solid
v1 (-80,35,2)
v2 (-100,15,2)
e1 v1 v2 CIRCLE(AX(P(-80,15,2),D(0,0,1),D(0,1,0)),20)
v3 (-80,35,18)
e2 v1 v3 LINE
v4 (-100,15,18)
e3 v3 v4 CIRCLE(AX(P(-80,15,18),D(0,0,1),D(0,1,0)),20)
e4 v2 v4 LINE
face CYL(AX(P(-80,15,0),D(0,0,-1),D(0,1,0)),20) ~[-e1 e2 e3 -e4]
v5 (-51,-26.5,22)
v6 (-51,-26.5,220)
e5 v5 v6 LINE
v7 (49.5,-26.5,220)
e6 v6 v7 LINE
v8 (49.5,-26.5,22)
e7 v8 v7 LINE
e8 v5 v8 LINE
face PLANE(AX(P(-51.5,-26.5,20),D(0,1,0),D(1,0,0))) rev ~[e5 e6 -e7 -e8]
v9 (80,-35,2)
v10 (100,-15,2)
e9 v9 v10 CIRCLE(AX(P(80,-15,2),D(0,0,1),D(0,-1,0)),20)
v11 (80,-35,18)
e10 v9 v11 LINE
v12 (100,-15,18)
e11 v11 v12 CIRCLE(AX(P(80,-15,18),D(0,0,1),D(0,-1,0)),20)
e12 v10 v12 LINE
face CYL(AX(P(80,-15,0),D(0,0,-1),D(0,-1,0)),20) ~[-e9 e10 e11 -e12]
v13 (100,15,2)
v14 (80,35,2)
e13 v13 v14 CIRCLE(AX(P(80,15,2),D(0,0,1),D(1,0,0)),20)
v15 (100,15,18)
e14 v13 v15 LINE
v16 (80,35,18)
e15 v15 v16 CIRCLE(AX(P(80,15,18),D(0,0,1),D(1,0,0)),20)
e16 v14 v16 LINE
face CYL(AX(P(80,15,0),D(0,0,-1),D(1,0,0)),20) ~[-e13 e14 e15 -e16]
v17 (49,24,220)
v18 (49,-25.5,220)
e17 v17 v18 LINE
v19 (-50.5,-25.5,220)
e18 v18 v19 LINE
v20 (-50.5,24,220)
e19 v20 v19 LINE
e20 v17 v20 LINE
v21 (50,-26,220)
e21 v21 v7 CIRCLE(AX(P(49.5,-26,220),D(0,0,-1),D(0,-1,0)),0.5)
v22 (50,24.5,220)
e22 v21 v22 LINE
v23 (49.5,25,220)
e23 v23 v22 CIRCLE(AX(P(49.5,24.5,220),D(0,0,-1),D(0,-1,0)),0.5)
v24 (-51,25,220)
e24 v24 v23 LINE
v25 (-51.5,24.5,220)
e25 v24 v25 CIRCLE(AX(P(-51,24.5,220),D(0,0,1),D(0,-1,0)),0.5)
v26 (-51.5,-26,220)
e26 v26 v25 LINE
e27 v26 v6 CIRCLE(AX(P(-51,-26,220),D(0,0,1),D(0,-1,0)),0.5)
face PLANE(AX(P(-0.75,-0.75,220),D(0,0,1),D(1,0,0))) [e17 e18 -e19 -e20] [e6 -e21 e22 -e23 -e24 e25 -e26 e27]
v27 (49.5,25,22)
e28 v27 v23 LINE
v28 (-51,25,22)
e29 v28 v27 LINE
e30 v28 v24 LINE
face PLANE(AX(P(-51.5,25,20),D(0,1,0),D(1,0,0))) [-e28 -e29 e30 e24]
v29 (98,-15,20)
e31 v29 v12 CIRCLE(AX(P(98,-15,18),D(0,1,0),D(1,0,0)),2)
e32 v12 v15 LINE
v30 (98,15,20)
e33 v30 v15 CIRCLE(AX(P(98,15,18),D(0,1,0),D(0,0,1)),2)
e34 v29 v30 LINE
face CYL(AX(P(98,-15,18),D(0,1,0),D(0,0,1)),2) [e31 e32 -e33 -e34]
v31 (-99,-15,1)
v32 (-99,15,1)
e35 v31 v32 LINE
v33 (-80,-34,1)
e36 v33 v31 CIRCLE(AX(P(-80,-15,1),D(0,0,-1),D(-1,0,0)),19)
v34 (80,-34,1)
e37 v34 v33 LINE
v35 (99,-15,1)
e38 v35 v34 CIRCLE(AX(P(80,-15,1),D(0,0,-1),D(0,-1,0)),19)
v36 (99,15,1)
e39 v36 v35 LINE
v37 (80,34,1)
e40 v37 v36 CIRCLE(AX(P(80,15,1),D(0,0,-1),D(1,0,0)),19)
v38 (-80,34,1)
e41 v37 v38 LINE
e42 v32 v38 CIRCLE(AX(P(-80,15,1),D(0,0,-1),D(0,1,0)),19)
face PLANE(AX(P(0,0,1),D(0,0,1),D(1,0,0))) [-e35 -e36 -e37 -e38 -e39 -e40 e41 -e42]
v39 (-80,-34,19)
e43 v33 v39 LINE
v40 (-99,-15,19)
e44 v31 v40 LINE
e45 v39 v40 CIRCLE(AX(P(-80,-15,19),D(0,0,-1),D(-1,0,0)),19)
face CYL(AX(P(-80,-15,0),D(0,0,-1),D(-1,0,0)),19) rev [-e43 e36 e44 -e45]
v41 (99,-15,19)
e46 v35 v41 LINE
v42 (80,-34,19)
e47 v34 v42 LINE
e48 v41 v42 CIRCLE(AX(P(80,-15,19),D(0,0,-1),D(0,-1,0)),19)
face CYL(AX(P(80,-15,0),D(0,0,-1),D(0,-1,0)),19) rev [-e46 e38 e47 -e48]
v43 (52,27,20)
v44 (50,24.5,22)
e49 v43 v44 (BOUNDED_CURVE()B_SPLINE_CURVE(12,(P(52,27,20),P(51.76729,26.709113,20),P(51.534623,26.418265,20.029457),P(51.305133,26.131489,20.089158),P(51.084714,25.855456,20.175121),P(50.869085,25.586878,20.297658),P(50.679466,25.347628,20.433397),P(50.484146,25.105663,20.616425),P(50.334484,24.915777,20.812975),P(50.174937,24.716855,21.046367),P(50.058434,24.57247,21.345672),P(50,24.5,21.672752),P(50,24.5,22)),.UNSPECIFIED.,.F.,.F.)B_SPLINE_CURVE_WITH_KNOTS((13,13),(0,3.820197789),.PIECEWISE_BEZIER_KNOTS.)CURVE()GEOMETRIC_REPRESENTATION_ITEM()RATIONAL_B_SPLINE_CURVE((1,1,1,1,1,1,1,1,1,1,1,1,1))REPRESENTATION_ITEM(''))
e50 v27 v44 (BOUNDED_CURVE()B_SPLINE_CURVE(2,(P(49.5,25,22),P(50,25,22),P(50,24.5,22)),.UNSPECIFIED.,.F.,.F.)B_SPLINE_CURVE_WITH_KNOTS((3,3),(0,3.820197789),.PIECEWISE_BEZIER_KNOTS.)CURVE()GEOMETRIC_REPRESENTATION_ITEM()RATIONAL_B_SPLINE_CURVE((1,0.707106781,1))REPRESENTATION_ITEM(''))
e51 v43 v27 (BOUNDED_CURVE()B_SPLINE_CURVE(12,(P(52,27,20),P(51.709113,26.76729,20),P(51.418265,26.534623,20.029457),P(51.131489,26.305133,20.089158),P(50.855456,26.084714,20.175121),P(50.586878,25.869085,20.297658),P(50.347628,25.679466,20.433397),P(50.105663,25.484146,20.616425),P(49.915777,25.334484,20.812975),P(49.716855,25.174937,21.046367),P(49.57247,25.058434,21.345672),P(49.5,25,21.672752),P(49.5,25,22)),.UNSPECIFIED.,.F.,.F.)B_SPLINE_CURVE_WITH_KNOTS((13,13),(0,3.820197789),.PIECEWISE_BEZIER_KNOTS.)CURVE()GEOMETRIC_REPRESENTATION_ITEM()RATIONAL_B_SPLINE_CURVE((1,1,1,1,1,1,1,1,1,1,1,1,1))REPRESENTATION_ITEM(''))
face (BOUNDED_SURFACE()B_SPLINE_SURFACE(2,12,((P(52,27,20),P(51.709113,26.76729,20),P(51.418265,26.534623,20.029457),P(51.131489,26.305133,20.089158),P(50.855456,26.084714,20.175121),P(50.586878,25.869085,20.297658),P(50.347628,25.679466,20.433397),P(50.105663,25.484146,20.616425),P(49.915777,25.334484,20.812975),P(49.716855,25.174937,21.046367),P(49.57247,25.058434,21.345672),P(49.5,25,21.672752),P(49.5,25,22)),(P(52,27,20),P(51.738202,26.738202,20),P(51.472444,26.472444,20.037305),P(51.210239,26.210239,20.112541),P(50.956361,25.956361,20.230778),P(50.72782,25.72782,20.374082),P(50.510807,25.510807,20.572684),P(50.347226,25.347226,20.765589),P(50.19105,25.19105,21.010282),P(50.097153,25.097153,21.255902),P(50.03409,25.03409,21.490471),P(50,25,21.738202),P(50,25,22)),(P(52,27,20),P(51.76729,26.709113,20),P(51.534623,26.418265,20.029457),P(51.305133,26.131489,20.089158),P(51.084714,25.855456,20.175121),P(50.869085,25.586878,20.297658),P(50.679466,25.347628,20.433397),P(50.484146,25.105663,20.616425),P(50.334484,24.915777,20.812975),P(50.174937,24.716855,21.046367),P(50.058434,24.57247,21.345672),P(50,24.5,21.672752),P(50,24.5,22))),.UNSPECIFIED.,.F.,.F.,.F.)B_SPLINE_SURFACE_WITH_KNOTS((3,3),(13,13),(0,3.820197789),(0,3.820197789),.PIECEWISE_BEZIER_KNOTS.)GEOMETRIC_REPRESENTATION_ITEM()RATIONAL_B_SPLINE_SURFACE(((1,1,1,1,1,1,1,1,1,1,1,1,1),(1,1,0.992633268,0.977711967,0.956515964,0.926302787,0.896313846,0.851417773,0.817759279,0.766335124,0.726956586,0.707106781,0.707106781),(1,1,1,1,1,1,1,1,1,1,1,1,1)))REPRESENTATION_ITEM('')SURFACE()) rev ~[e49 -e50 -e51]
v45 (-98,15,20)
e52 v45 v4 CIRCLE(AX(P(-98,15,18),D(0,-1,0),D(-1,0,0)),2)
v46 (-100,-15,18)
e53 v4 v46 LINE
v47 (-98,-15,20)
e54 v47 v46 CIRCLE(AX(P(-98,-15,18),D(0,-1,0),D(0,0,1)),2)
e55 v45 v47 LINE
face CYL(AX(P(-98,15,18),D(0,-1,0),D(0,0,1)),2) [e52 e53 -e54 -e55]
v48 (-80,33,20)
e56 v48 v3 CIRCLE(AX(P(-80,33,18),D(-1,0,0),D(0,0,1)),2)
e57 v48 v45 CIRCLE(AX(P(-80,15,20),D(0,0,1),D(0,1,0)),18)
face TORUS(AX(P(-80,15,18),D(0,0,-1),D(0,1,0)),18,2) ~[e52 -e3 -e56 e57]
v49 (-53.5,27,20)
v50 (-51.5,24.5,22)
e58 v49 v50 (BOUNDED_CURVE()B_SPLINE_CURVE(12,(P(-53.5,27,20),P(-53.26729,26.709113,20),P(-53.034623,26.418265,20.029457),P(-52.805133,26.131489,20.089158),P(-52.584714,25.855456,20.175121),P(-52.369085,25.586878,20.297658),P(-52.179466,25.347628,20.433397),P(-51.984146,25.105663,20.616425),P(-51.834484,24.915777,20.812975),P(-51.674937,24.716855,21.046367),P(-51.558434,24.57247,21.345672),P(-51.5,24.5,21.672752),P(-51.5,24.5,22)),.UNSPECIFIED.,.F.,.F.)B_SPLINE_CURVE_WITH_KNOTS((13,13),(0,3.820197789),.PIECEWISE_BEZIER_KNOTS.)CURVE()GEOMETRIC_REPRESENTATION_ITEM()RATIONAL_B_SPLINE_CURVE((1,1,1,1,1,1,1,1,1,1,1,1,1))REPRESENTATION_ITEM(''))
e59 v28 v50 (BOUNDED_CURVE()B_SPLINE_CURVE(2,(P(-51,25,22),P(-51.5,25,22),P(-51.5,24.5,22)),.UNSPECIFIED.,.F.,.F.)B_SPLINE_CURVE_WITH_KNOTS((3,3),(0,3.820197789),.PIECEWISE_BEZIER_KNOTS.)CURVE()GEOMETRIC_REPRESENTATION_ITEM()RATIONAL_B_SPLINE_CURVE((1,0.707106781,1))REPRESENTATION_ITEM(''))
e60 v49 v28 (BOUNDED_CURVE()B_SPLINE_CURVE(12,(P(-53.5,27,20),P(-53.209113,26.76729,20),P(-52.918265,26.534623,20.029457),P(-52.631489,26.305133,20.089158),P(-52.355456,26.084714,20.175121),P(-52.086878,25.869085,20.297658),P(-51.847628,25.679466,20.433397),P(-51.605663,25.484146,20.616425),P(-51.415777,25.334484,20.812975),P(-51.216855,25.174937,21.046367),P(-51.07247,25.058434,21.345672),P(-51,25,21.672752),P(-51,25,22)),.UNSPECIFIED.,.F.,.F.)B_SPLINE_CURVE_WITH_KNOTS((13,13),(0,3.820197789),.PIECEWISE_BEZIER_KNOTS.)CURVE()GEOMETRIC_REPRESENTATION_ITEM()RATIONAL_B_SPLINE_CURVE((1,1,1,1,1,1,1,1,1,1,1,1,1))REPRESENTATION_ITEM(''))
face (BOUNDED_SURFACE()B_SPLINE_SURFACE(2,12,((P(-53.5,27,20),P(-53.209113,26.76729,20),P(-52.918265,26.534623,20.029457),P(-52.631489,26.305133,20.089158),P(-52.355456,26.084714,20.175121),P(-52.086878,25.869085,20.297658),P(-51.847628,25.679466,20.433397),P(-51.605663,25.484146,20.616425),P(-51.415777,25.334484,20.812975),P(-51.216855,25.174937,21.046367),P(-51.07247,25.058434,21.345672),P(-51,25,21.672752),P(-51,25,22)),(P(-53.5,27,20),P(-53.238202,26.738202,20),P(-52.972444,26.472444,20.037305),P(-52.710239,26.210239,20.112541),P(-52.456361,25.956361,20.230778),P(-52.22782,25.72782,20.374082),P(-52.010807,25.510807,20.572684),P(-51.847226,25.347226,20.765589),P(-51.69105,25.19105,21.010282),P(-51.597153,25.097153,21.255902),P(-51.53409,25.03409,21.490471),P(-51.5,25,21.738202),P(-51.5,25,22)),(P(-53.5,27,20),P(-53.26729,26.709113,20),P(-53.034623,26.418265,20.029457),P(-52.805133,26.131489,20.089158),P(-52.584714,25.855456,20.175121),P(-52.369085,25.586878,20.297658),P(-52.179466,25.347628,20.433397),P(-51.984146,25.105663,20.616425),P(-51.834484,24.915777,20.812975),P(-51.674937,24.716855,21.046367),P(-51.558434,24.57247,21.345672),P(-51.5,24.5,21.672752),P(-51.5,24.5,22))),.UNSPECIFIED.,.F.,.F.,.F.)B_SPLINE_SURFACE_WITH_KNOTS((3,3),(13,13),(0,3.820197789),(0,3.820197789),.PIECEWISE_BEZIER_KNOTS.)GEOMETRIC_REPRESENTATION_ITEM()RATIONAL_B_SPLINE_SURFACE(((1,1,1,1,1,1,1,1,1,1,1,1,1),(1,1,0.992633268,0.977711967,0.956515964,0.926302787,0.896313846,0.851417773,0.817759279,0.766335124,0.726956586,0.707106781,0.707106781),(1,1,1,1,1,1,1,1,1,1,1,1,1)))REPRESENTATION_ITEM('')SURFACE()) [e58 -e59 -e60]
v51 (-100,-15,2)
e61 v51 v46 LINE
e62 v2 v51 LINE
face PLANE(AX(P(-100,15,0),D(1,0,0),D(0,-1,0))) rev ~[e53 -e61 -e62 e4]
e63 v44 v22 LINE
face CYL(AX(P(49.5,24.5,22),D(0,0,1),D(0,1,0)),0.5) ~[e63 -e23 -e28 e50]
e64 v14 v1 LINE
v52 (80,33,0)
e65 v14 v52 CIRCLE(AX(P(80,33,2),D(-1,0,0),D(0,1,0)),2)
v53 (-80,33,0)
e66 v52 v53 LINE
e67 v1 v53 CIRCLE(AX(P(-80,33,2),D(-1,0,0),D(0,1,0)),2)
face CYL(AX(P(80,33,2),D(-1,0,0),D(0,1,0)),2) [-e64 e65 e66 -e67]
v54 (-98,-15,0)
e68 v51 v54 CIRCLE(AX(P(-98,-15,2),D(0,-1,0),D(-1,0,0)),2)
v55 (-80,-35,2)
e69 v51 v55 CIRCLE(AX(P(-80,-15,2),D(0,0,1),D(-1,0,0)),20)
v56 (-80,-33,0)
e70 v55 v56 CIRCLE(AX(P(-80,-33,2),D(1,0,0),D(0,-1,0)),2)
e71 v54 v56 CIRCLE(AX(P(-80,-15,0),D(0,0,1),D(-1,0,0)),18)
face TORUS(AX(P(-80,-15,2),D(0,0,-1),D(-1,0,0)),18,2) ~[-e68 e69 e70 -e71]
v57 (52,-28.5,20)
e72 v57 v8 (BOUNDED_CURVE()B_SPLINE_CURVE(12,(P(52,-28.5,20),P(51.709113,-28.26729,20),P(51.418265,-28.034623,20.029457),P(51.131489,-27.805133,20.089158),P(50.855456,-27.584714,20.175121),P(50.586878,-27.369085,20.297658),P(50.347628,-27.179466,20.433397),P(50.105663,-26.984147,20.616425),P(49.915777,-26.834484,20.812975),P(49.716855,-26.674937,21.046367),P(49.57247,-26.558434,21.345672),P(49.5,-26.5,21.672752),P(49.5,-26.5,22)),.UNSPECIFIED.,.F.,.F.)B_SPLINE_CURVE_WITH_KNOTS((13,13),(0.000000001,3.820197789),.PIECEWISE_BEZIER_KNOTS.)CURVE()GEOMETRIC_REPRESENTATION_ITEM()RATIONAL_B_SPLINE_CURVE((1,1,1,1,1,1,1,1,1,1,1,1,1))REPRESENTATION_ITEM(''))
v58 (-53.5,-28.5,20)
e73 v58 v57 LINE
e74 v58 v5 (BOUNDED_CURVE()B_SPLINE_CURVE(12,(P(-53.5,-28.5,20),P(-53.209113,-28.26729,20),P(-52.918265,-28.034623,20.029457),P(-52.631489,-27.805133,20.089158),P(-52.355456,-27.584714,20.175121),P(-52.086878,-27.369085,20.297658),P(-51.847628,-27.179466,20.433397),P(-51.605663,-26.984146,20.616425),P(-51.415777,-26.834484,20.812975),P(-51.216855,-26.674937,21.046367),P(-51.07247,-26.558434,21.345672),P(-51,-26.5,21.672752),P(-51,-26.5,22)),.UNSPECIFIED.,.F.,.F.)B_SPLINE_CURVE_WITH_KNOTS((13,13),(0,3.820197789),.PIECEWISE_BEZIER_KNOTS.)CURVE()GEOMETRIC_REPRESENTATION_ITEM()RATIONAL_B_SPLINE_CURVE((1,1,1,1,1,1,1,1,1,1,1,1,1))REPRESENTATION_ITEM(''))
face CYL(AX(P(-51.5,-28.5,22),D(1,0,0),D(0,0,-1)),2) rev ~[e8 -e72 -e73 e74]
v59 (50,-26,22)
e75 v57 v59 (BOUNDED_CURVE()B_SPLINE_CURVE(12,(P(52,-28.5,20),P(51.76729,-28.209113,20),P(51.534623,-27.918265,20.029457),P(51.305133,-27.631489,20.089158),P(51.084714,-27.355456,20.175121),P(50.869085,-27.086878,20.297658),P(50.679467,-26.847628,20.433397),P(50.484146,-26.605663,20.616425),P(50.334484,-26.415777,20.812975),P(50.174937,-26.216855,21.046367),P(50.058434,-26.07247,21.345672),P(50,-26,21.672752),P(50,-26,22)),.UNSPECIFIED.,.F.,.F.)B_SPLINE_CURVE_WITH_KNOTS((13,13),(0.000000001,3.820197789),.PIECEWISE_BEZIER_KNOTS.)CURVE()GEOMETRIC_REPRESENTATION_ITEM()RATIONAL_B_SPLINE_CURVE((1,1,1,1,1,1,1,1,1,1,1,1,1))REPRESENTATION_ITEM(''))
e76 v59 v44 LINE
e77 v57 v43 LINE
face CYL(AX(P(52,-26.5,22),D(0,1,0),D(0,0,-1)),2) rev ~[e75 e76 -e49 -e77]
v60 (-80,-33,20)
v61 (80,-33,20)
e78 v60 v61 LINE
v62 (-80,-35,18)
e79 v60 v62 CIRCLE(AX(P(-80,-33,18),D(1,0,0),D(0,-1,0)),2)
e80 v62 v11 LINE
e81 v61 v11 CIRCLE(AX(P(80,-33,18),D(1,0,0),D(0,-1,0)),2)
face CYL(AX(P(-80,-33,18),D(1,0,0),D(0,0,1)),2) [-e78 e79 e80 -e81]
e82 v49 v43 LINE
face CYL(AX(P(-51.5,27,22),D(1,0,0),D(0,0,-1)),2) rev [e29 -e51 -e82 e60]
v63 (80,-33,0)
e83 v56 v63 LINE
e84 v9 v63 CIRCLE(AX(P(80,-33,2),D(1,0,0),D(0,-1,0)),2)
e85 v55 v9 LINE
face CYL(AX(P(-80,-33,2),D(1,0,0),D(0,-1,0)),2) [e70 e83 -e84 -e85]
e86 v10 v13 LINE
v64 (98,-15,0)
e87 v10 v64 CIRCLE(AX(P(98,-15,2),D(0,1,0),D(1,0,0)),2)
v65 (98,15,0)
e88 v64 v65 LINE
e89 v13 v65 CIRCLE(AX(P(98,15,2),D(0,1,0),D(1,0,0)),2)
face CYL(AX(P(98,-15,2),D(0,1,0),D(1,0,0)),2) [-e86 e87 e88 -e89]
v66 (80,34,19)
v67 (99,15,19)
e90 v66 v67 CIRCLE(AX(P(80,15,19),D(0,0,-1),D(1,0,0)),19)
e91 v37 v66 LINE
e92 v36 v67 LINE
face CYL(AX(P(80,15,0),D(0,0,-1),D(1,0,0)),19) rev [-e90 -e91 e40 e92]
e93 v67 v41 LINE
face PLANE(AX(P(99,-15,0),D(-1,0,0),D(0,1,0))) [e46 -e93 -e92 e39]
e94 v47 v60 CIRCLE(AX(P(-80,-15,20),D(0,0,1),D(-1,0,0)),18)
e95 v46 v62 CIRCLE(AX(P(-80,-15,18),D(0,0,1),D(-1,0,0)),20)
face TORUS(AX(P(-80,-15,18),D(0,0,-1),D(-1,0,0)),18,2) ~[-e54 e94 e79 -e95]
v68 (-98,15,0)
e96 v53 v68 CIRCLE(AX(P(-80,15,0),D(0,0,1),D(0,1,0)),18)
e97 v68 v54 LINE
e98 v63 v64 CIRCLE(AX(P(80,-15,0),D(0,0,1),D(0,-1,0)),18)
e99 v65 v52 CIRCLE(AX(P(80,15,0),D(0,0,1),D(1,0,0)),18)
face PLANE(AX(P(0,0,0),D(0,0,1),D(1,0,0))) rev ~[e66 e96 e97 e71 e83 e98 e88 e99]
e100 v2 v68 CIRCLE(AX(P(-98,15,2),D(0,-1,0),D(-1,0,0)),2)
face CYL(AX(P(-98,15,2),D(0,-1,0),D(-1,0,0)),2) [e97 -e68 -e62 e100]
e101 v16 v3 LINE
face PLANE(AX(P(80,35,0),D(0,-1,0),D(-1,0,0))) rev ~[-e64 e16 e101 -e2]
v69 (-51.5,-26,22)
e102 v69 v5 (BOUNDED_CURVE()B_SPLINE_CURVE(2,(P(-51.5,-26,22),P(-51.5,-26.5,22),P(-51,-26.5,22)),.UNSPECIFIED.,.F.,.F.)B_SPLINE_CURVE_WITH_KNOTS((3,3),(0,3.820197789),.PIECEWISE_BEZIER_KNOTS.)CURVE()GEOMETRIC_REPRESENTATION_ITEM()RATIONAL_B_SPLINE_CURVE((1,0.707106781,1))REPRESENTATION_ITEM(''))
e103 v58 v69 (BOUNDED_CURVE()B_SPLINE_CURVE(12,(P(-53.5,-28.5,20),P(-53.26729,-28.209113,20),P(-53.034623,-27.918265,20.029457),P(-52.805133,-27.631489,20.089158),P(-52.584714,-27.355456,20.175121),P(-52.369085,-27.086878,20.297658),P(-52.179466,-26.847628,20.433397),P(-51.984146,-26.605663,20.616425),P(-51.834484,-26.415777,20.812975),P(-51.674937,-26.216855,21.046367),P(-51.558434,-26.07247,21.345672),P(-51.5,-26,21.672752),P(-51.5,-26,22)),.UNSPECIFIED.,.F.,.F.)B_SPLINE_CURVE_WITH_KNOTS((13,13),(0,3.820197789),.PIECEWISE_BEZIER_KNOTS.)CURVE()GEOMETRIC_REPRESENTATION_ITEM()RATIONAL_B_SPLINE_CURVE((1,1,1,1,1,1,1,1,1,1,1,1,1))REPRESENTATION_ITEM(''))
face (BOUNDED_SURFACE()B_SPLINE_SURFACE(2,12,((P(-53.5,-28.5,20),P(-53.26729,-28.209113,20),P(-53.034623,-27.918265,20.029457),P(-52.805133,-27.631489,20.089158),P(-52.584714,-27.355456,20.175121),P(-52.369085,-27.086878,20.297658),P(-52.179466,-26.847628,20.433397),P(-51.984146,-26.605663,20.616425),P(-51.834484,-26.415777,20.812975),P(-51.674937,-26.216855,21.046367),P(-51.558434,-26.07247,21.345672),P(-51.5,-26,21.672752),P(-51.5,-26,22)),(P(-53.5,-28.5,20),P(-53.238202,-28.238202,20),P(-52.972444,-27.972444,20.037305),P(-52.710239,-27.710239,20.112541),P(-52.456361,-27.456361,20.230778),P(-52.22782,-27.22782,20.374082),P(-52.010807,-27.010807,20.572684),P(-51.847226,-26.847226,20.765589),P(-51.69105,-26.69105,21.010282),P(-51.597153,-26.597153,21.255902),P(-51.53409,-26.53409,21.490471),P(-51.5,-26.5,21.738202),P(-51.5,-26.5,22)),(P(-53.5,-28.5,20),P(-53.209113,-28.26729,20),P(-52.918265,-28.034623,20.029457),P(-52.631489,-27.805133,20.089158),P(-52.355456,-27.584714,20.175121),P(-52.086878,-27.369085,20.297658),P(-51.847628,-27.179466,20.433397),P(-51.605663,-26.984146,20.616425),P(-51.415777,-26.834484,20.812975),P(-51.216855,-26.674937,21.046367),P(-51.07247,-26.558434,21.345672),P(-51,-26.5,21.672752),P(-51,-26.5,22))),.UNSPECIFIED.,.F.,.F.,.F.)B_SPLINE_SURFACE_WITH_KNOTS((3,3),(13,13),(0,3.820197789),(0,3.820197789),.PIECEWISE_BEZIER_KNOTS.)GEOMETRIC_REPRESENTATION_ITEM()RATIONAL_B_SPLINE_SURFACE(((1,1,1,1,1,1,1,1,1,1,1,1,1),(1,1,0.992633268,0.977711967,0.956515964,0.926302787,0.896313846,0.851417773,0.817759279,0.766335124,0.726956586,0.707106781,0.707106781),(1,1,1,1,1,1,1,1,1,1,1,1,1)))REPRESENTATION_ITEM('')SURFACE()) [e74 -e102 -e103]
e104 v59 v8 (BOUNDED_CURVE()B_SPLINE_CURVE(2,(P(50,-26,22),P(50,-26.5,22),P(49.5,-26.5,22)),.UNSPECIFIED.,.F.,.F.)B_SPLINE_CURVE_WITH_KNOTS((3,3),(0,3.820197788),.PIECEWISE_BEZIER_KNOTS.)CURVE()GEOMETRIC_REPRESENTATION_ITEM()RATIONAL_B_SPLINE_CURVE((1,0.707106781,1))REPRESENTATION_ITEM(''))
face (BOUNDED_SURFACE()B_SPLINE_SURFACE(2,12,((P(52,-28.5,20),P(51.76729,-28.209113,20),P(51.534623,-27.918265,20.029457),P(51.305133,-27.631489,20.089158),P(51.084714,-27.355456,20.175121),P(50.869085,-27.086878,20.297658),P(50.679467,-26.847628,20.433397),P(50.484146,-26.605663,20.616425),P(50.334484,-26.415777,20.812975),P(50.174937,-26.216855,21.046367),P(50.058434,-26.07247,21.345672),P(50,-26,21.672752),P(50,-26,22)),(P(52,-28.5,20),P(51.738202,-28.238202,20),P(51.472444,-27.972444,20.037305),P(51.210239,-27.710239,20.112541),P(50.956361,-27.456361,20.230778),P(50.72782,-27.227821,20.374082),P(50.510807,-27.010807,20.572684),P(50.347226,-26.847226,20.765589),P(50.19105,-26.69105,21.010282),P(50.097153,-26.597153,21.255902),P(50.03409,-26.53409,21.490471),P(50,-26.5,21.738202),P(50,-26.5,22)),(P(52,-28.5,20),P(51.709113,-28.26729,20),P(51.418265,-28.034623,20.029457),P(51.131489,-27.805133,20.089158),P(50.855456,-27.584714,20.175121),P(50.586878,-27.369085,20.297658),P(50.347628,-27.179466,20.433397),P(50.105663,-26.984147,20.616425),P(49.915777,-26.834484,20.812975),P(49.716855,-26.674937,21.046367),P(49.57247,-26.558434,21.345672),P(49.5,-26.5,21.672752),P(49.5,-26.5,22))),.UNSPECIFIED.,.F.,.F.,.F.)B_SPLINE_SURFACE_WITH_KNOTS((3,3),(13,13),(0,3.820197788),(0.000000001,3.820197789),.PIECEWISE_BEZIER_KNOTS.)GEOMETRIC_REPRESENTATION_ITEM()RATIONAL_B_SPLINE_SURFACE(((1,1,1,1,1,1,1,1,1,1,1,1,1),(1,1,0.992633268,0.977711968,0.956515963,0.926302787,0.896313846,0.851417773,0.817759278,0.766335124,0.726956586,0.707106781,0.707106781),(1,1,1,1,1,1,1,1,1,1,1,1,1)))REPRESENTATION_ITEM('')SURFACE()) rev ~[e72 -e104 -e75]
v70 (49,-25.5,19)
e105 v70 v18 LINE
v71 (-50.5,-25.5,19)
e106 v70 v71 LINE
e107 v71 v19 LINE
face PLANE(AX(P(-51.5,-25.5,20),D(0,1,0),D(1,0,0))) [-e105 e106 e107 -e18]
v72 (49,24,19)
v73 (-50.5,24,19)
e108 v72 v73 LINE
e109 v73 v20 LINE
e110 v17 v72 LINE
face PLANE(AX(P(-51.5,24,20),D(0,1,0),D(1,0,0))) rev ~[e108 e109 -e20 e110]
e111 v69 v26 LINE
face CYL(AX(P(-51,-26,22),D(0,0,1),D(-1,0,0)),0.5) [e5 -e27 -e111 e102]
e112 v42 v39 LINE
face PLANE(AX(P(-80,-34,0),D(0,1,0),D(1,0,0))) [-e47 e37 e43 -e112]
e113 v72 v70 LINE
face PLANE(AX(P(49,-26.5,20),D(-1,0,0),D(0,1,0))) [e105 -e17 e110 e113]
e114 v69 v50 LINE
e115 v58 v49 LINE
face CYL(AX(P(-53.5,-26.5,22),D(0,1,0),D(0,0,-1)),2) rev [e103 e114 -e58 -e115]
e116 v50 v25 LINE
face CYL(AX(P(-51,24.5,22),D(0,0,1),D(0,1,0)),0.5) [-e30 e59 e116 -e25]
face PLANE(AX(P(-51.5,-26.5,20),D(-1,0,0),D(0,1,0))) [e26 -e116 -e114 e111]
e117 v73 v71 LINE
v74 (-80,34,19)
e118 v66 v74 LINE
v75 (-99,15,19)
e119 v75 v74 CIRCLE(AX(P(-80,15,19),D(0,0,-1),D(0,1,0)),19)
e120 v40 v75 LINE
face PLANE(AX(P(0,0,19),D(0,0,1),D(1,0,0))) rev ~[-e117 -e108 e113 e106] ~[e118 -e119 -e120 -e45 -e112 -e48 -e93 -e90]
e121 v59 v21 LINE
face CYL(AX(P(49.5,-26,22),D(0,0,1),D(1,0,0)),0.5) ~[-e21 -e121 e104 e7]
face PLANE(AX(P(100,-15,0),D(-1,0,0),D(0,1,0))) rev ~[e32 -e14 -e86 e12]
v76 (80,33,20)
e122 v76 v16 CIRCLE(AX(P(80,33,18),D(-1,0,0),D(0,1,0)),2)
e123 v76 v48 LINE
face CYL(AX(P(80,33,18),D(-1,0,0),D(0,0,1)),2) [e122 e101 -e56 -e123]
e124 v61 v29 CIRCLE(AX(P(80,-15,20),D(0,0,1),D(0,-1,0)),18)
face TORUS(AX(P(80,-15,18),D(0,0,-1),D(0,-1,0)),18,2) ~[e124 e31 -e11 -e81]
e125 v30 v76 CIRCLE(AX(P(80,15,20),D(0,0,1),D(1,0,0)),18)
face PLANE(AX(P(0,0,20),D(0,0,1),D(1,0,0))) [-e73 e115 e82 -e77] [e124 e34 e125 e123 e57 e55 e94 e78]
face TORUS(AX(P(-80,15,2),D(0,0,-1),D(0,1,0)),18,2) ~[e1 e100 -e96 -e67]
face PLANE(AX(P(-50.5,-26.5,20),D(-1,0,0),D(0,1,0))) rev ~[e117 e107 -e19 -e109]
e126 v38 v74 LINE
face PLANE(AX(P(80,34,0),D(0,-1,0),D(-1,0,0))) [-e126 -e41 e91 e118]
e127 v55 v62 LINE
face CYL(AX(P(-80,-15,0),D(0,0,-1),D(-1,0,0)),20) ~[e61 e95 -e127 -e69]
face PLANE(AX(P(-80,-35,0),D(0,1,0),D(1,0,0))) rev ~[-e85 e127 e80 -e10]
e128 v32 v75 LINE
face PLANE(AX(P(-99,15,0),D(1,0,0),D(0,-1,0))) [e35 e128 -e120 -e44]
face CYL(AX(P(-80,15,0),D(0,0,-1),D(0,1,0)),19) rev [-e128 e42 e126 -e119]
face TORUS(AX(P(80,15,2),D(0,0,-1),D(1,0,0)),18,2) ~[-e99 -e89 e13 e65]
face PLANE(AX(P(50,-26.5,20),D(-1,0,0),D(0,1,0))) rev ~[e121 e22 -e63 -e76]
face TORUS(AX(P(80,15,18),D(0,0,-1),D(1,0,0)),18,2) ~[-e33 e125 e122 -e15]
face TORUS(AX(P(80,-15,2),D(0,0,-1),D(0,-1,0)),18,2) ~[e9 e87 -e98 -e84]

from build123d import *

# Parameters (mm, degrees)
F1_DEPTH = 20
F2_W     = 101.5
F2_H     = 51.5
F3_DEPTH = 200
F4_T     = -1
F5_R     = 2
F6_R     = 0.5


with BuildPart() as f1:
    # F0 (on Top) → F1 (new body)
    with BuildSketch(Plane.XY):
        with BuildLine():
            Line((80, 35), (-80, 35))
            ThreePointArc((-80, 35), (-94.1421356237, 29.1421356237), (-100, 15))
            Line((-100, 15), (-100, -15))
            ThreePointArc((-100, -15), (-94.1421356237, -29.1421356237), (-80, -35))
            Line((-80, -35), (80, -35))
            ThreePointArc((80, -35), (94.1421356237, -29.1421356237), (100, -15))
            Line((100, -15), (100, 15))
            ThreePointArc((100, 15), (94.1421356237, 29.1421356237), (80, 35))
        make_face()
    extrude(amount=F1_DEPTH)

    # F2 (on face) → F3 (join)
    with BuildSketch(Plane.XY.offset(20)):
        with Locations((-0.75, -0.75)):
            Rectangle(F2_W, F2_H)
    extrude(amount=F3_DEPTH)

    # F4
    f4_openings = [f1.faces().sort_by_distance(p)[0] for p in [
        (-0.75, -0.75, 220),
    ]]
    offset(amount=F4_T, openings=f4_openings, kind=Kind.INTERSECTION)

    # F5
    f5_edges = [f1.edges().sort_by_distance(p)[0] for p in [
        (94.142136, -29.142136, 20),
        (100, 0, 20),
        (94.142136, 29.142136, 20),
        (0, -35, 20),
        (0, 35, 20),
        (-94.142136, -29.142136, 20),
        (-94.142136, 29.142136, 20),
        (-100, 0, 20),
        (-0.75, 25, 20),
        (-51.5, -0.75, 20),
        (-0.75, -26.5, 20),
        (50, -0.75, 20),
        (100, 15, 10),
        (80, 35, 10),
        (94.142136, 29.142136, 0),
        (-80, 35, 10),
        (0, 35, 0),
        (-100, 15, 10),
        (-94.142136, 29.142136, 0),
        (-100, -15, 10),
        (-100, 0, 0),
        (-80, -35, 10),
        (-94.142136, -29.142136, 0),
        (80, -35, 10),
        (0, -35, 0),
    ]]
    fillet(f5_edges, radius=F5_R)

    # F6
    f6_edges = [f1.edges().sort_by_distance(p)[0] for p in [
        (-51.5, -26.5, 121),
        (-51.5, 25, 121),
        (50, -26.5, 121),
        (50, 25, 121),
    ]]
    fillet(f6_edges, radius=F6_R)


solid = f1.part
